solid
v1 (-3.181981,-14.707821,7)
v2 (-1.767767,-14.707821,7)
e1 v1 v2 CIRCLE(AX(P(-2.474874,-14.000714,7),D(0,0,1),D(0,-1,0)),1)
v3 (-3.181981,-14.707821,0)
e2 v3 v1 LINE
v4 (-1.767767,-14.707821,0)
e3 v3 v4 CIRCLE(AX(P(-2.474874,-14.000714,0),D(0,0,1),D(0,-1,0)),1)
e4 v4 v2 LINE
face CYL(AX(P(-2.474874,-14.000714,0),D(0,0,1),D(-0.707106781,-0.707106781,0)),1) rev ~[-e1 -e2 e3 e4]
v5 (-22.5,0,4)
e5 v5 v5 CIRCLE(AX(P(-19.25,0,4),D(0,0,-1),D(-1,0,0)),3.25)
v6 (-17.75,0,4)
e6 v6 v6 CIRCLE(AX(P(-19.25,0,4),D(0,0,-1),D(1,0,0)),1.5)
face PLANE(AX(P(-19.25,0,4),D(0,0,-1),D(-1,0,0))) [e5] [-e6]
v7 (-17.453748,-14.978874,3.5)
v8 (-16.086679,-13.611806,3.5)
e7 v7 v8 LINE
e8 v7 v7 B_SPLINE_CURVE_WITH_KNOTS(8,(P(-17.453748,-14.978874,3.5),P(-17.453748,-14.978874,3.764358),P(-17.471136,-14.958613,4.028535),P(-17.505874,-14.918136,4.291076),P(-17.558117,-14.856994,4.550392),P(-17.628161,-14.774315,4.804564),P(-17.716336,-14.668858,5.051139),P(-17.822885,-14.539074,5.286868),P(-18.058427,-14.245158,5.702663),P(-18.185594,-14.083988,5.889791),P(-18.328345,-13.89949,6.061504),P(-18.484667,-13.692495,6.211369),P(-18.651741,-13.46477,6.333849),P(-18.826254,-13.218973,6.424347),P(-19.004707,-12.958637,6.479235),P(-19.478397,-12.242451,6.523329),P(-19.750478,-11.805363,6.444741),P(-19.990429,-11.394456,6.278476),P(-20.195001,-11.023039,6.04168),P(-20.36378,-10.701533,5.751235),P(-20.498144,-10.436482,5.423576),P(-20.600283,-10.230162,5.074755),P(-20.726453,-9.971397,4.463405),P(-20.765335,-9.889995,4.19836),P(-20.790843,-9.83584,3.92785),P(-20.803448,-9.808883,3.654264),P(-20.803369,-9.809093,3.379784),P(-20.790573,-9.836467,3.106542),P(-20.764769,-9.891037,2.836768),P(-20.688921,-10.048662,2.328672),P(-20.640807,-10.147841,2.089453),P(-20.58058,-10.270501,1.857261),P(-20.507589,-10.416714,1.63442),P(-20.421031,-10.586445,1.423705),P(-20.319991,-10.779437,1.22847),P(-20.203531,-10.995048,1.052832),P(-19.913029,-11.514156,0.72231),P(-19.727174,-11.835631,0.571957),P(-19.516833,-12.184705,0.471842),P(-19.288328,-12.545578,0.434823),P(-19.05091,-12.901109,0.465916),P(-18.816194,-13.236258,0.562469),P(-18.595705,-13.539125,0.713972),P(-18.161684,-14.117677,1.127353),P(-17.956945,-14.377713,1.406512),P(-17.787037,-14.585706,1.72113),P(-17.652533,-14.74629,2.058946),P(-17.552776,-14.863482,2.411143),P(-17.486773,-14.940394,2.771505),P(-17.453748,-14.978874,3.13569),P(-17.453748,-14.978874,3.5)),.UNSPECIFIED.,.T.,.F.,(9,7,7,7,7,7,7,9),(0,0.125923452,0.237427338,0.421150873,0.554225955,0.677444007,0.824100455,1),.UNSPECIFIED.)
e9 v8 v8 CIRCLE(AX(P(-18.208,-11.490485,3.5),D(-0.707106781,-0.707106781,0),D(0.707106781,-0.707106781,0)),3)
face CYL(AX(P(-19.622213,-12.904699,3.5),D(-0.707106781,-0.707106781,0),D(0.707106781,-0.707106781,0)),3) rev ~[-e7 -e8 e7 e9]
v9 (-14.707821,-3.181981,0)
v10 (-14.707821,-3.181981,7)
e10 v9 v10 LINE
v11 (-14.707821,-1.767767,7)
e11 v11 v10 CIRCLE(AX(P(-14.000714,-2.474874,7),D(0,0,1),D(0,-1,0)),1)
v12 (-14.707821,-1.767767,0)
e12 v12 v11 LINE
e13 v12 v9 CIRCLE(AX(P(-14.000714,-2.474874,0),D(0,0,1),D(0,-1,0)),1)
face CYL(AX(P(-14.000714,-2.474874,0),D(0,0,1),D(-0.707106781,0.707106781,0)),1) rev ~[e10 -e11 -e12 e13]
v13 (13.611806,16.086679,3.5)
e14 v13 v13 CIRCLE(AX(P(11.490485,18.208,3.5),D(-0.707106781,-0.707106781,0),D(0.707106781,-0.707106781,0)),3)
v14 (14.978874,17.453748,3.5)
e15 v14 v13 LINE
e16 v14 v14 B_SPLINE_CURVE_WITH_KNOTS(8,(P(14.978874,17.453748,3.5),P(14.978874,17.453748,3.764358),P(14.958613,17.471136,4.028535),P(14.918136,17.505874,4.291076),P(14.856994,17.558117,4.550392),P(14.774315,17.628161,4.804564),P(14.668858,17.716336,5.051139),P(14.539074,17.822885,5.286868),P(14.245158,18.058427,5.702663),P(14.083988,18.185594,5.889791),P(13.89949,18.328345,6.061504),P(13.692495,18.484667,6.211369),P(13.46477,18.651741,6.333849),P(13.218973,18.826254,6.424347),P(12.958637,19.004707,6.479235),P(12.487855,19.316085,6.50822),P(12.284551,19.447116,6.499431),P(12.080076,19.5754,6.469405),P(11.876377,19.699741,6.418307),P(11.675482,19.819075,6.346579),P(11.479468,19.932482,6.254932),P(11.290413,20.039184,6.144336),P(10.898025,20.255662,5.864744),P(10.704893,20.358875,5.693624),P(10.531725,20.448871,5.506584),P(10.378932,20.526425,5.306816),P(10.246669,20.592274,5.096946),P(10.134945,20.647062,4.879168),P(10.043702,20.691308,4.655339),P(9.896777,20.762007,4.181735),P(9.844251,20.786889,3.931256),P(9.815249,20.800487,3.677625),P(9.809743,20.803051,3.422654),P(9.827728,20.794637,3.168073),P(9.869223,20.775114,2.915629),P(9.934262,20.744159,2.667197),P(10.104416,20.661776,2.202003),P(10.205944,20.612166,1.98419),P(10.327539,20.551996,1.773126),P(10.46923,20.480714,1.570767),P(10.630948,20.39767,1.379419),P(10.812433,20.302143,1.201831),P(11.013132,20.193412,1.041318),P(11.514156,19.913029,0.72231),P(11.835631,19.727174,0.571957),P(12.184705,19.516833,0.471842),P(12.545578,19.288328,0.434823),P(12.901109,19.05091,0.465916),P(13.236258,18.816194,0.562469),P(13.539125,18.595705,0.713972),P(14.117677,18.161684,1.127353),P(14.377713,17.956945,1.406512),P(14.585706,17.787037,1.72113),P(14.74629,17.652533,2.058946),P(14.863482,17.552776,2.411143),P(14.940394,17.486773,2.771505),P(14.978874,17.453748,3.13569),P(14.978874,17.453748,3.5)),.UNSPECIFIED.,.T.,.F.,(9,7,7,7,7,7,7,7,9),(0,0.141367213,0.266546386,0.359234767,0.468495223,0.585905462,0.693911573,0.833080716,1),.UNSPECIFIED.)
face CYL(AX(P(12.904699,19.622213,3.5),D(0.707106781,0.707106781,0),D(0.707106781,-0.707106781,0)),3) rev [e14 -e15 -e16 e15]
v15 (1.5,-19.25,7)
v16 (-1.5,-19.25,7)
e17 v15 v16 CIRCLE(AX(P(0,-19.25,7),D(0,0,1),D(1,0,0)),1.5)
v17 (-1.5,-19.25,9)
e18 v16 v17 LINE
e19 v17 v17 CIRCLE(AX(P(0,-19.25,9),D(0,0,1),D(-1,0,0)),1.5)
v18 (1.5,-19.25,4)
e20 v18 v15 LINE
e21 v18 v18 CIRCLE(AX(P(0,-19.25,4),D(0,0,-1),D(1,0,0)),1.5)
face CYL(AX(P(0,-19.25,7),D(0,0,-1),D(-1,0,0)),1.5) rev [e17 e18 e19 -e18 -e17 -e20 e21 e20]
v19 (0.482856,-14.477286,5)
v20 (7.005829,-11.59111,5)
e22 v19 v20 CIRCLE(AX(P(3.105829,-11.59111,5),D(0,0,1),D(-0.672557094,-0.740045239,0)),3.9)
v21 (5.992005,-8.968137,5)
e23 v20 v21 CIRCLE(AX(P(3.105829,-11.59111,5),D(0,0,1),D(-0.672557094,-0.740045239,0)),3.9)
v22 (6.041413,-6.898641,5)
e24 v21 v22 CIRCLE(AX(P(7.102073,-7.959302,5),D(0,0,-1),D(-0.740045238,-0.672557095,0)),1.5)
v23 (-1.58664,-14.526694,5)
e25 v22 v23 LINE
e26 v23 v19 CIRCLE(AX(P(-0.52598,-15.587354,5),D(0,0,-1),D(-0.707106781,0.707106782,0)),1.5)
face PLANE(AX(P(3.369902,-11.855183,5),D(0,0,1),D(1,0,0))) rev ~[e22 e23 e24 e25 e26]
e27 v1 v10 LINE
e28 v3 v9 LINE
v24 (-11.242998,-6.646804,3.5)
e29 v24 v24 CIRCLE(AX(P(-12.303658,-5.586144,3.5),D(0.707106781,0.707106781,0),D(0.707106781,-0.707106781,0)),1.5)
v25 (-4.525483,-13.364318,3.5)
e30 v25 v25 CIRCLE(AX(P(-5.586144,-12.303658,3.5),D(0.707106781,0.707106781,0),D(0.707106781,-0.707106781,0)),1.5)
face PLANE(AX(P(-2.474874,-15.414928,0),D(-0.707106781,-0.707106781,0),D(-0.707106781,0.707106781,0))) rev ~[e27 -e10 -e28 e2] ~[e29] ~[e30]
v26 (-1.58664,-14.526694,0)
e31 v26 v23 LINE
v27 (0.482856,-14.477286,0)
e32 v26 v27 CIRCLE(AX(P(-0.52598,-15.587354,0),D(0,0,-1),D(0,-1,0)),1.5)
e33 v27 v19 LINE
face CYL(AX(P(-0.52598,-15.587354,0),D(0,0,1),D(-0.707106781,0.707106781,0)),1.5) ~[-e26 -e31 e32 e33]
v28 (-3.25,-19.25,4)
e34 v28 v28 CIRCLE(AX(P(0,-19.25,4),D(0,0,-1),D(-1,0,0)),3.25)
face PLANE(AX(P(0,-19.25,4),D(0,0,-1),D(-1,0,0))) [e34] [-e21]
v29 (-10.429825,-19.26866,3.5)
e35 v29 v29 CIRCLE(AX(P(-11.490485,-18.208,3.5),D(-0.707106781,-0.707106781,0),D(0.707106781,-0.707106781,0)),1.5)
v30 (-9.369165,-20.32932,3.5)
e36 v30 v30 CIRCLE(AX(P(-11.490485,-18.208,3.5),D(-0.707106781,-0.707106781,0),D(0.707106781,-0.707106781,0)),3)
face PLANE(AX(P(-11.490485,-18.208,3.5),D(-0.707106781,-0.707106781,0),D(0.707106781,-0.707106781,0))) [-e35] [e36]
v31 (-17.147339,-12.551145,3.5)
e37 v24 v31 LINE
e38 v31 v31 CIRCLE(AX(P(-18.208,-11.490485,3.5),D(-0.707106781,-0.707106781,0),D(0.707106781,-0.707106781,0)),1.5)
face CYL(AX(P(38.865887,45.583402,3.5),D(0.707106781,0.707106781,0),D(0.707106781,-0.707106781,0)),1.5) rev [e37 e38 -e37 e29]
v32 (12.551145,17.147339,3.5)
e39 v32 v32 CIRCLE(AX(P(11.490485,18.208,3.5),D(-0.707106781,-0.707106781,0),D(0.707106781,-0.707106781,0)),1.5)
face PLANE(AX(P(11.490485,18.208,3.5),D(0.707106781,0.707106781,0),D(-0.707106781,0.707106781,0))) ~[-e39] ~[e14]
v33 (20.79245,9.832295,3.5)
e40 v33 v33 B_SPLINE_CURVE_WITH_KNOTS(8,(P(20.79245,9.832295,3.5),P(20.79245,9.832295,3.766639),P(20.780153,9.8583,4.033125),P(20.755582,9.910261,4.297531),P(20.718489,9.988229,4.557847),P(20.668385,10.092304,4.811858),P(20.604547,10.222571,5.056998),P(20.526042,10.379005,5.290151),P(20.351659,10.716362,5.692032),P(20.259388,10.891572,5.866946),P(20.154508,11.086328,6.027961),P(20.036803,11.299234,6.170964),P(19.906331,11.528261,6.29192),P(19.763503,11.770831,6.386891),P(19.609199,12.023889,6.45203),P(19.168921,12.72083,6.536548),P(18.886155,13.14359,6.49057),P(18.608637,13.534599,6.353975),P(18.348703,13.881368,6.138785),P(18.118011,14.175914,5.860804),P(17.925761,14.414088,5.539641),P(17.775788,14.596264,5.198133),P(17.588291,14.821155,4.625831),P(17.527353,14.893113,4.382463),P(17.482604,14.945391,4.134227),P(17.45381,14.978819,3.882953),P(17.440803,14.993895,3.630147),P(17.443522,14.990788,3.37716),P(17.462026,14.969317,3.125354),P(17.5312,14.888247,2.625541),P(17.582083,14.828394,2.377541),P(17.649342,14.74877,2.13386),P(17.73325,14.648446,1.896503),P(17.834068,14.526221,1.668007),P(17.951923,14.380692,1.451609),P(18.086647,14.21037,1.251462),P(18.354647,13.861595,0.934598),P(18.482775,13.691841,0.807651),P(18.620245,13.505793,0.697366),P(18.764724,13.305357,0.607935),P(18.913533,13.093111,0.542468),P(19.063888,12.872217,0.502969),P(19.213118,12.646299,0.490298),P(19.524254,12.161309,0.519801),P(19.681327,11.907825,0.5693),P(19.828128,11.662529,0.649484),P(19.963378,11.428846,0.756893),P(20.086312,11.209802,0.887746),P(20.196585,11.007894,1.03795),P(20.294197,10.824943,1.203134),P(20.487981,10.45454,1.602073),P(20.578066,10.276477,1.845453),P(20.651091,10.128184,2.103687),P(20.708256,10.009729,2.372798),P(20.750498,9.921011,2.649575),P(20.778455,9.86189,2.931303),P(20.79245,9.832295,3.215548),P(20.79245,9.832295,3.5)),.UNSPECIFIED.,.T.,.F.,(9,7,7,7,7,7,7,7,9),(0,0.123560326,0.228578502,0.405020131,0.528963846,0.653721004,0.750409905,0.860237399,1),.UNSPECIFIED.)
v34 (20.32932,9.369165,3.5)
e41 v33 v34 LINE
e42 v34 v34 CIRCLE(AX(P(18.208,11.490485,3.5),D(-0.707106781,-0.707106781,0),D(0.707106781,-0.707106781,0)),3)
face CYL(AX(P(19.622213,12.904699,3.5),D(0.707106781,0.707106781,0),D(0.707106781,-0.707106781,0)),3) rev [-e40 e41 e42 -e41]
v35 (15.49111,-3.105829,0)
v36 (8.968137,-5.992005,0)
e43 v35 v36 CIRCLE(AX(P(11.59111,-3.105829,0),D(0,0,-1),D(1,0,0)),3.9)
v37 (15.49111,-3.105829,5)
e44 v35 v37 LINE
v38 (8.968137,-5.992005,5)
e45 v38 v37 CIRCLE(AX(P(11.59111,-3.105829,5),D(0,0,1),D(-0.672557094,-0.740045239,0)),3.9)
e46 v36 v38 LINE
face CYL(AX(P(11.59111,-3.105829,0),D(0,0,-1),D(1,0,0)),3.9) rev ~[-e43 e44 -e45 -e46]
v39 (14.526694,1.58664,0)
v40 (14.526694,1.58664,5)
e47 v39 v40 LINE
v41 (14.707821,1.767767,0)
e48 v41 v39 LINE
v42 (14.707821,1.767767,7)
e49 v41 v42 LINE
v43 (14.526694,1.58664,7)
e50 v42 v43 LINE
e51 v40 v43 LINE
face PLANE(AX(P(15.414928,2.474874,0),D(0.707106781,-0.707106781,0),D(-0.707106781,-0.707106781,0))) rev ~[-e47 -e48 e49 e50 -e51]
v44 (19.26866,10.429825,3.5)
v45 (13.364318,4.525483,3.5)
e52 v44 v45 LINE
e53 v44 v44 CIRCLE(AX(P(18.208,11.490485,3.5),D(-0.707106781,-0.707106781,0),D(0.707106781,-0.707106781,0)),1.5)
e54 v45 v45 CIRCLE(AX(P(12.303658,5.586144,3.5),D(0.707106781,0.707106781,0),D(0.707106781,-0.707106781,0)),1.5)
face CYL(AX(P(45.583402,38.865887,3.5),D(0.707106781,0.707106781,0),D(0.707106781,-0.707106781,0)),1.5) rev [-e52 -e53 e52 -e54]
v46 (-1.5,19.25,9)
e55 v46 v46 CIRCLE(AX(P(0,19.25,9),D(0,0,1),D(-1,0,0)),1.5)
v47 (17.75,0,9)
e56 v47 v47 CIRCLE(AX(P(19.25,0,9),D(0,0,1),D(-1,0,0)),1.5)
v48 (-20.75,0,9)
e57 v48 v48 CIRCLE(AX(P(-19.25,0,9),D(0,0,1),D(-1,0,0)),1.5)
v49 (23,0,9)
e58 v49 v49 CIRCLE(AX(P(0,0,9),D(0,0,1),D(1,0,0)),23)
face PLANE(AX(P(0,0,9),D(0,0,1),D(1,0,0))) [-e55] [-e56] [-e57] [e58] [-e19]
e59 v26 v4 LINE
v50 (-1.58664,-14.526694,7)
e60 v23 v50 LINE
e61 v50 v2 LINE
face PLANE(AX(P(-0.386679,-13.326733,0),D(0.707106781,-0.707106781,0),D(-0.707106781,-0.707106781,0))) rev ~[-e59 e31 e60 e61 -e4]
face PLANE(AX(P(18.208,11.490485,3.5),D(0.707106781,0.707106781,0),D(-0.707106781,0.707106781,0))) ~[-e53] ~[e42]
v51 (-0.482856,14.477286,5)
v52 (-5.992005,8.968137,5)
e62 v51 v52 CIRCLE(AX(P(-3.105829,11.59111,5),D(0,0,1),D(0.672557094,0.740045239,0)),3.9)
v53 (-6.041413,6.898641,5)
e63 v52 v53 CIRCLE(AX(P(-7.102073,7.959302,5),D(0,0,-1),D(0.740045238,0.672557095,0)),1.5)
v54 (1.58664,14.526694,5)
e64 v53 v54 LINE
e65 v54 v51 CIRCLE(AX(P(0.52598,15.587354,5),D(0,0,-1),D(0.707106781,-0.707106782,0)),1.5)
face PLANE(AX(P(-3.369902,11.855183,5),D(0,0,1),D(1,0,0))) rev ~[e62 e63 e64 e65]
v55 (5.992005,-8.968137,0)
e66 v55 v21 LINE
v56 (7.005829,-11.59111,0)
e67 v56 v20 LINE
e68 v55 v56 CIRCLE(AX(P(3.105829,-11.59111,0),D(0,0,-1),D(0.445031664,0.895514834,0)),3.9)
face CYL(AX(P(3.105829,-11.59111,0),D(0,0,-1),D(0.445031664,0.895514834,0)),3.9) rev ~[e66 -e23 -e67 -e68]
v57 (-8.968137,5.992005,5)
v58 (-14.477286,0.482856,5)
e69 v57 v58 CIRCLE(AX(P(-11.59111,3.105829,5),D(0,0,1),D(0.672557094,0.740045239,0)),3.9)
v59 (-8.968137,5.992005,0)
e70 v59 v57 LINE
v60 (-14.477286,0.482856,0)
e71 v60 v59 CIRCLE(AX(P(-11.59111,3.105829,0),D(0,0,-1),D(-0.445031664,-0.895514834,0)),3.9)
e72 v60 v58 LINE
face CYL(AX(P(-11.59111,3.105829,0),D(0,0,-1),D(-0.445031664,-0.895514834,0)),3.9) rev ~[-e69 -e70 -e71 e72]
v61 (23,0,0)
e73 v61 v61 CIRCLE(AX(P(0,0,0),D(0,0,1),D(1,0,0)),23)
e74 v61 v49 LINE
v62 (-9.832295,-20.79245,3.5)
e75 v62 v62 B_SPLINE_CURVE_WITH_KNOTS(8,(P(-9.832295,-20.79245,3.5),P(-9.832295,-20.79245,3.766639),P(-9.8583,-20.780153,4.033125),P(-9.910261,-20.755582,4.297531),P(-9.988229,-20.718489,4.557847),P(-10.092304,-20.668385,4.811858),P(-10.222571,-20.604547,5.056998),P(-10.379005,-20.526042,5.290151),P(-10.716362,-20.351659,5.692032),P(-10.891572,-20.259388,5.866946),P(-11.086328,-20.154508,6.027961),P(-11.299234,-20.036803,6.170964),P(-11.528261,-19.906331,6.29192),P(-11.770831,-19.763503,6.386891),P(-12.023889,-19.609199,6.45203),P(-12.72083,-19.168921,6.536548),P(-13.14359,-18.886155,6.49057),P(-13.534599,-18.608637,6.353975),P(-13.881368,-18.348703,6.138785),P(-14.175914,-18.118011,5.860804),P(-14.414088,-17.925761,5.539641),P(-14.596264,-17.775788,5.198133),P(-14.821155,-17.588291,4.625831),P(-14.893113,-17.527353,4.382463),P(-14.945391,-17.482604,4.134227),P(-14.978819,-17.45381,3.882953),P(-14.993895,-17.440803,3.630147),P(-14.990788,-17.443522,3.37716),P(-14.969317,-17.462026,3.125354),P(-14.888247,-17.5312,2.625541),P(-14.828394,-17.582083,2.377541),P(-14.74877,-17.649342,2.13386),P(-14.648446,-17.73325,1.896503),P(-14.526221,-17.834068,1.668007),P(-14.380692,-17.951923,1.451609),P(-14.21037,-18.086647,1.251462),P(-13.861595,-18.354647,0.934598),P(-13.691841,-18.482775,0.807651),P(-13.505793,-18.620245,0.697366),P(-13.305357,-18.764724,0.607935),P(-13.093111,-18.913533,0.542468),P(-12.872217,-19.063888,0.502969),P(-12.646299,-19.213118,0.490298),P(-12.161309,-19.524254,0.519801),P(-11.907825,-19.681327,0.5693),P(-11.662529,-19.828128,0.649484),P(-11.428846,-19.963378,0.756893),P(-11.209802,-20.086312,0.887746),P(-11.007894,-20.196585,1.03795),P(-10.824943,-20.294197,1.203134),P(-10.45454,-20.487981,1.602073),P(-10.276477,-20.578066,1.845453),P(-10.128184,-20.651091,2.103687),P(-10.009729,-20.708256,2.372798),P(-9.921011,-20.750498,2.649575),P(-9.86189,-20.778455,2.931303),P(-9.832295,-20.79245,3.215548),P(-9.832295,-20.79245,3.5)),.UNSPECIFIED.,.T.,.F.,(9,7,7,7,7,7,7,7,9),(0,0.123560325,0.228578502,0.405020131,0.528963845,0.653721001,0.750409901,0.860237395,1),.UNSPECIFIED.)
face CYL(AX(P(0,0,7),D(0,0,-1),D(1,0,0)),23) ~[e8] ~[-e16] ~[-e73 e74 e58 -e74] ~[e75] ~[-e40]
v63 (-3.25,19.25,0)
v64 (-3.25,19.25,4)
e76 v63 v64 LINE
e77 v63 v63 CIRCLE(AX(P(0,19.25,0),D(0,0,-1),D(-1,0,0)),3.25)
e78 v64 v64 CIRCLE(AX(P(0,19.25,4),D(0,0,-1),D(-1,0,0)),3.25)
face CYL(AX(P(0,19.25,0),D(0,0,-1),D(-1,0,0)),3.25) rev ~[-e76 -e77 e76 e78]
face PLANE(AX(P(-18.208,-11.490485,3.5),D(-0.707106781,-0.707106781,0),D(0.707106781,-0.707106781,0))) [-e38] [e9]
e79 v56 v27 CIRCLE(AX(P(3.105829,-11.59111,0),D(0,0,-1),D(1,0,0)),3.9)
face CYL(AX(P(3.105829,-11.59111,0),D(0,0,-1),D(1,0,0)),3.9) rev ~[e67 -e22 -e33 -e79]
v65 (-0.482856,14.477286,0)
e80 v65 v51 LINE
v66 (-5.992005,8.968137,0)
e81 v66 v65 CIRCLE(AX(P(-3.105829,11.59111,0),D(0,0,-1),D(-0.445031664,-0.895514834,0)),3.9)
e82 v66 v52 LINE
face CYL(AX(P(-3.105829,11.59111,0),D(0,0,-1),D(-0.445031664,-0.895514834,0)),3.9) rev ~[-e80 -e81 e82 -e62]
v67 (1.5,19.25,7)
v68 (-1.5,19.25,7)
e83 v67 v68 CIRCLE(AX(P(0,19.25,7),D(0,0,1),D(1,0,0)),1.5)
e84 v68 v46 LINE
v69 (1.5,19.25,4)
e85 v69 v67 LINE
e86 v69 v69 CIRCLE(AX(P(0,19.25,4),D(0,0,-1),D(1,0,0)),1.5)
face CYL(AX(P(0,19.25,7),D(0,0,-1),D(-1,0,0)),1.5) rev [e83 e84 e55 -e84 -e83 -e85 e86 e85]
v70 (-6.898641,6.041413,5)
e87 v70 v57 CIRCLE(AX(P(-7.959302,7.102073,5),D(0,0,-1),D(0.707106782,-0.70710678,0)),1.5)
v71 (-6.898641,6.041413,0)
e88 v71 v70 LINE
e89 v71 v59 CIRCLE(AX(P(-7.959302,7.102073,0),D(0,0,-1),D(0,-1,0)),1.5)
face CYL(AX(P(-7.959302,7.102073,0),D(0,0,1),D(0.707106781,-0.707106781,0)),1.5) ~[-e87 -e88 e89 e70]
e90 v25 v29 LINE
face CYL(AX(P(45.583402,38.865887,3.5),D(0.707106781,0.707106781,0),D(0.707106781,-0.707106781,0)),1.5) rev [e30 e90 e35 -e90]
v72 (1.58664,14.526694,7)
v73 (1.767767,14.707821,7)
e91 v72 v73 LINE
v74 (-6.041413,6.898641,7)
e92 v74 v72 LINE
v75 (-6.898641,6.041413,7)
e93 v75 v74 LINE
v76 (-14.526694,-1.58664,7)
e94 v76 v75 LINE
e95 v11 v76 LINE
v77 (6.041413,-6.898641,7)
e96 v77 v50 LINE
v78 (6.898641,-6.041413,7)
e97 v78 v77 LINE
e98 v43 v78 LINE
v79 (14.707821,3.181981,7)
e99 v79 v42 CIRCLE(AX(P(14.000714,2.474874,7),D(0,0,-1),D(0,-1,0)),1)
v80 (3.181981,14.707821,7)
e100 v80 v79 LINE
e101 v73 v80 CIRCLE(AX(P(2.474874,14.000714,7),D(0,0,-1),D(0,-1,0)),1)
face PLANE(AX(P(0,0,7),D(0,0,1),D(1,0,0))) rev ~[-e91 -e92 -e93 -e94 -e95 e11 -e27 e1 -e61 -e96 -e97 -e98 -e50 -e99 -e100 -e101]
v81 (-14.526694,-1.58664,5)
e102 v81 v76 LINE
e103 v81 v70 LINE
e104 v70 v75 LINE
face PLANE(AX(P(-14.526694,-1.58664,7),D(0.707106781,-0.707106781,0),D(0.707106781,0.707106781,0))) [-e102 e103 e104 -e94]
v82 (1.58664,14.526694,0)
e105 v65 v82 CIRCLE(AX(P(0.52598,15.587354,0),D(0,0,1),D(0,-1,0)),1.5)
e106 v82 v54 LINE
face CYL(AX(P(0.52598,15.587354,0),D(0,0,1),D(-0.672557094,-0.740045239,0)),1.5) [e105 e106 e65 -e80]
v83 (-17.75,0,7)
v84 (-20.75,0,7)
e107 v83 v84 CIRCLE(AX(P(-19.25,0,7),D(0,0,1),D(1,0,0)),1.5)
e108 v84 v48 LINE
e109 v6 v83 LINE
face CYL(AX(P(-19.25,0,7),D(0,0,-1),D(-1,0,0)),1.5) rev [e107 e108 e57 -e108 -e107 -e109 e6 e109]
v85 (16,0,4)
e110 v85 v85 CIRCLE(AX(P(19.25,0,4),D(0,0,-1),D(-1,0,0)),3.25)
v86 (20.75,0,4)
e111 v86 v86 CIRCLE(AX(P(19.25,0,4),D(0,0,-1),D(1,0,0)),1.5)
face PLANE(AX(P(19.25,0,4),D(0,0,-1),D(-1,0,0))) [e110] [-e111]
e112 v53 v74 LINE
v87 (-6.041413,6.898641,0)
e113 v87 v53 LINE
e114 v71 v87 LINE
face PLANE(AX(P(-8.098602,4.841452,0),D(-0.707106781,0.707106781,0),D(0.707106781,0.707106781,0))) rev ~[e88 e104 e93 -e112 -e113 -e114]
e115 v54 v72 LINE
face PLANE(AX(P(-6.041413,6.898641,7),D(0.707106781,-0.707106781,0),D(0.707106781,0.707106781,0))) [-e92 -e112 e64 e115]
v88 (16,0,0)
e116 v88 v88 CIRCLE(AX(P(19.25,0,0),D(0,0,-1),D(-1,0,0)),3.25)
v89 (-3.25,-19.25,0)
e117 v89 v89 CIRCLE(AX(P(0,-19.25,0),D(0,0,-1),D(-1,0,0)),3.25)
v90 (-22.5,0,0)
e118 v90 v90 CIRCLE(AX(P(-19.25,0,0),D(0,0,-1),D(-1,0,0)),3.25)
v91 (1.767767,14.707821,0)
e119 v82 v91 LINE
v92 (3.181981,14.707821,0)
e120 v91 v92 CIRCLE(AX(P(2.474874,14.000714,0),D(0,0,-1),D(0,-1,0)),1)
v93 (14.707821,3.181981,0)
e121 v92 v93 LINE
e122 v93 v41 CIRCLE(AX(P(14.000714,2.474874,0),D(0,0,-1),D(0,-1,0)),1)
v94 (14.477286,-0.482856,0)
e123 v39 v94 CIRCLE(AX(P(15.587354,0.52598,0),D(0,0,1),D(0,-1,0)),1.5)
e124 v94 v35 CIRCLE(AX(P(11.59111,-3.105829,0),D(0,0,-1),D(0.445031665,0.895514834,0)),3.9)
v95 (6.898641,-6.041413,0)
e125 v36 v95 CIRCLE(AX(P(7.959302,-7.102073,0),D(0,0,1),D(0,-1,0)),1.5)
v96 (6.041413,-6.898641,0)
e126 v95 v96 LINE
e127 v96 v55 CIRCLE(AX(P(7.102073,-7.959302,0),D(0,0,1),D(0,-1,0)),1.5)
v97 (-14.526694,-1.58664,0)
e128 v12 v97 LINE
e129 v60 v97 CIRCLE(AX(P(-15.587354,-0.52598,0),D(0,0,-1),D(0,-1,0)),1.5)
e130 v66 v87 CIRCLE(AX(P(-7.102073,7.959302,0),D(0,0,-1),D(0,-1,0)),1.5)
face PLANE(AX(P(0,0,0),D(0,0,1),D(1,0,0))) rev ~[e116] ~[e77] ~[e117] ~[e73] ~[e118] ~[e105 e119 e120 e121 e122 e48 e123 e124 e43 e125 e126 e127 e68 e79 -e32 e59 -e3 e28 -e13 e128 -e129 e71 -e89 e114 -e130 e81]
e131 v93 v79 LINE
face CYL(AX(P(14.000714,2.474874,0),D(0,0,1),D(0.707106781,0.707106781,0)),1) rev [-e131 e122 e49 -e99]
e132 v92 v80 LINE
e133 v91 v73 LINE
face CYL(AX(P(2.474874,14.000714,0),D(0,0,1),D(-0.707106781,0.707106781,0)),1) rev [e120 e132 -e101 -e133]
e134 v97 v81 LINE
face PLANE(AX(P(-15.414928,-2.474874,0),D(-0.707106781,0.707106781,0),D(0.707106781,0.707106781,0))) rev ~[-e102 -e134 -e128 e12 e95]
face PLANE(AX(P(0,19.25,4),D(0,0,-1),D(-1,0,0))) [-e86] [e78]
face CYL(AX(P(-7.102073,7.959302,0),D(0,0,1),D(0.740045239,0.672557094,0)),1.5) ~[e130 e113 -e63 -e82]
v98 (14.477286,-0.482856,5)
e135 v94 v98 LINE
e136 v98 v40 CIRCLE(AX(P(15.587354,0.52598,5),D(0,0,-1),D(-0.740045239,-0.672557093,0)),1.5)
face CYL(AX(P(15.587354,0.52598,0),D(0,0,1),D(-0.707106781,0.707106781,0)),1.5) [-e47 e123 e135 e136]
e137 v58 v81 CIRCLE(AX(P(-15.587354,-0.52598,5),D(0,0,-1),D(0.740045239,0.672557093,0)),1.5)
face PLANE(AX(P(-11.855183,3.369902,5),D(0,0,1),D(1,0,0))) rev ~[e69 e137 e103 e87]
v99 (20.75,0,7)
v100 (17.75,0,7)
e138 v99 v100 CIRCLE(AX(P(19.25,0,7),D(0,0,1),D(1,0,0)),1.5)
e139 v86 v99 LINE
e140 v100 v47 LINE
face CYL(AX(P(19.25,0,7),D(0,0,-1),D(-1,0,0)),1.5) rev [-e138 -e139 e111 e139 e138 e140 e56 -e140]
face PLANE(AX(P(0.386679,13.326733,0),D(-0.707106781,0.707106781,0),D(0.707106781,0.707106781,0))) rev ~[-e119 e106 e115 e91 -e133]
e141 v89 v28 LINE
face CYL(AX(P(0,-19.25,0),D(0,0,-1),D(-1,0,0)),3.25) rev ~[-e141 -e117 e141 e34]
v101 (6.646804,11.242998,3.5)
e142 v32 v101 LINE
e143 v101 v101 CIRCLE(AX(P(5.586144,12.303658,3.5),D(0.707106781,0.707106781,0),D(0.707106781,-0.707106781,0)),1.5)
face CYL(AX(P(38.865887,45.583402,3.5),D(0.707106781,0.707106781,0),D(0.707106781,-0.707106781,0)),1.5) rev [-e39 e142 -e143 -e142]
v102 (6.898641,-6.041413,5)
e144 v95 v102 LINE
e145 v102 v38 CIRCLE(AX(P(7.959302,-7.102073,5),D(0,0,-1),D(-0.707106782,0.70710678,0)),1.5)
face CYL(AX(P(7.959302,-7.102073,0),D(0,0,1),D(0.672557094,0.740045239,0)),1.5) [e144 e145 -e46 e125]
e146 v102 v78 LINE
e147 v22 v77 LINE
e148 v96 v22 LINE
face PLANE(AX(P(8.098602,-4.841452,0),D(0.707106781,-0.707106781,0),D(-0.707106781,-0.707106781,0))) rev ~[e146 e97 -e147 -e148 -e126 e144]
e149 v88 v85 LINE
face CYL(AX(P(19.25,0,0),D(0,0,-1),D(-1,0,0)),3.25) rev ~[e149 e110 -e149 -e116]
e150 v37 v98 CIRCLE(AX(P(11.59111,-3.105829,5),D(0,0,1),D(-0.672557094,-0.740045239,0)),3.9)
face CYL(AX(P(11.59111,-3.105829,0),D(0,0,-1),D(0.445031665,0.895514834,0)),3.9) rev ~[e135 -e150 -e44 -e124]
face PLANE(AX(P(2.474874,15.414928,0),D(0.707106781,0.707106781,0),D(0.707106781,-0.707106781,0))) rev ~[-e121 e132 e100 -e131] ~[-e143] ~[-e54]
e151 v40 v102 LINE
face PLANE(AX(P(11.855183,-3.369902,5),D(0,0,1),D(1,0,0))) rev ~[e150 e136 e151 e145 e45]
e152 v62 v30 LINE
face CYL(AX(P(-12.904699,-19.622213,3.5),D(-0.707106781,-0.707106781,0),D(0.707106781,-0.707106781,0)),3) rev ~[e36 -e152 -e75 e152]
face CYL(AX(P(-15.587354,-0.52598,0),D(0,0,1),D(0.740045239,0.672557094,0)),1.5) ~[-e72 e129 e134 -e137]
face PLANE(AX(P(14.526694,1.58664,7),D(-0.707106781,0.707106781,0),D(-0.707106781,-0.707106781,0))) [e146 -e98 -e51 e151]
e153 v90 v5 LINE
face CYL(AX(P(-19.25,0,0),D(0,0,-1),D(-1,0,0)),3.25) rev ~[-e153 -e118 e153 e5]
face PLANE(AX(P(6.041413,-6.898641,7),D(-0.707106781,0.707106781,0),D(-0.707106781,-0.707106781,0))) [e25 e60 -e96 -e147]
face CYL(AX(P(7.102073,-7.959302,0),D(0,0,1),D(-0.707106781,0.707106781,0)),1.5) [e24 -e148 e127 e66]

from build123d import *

# Parameters (mm, degrees)
SKETCH_1_R               = 23
SKETCH_1_R_2             = 1.5
EXTRUDE_1_DEPTH          = 7
FILLET_1_R               = 1.5
FILLET_2_R               = 1.5
EXTRUDE_2_DEPTH          = 2
FILLET_3_R               = 1
SKETCH_4_R               = 3.25
SKETCH_4_R_2             = 1.5
CUT_EXTRUDE_1_DEPTH      = 4
SKETCH_5_R               = 23
SKETCH_5_R_2             = 1.5
EXTRUDE_3_DEPTH          = 2
CUT_EXTRUDE_2_DEPTH      = 47.064665113
CUT_EXTRUDE_2_DEPTH_BACK = 47.064665113
SKETCH_6_R               = 1.5
SKETCH_7_R               = 3
SKETCH_7_R_2             = 1.5
CUT_EXTRUDE_3_DEPTH      = 2


with BuildPart() as part:
    # 草图1 → 凸台-拉伸1 (new body)
    with BuildSketch(Plane.XY):
        Circle(SKETCH_1_R)
        with Locations((-19.25, 0)):
            Circle(SKETCH_1_R_2, mode=Mode.SUBTRACT)
        with Locations((0, -19.25)):
            Circle(SKETCH_1_R_2, mode=Mode.SUBTRACT)
        with BuildLine():
            Line((0.386679311, 13.326733407), (2.474873734, 15.41492783))
            Line((2.474873734, 15.41492783), (15.41492783, 2.474873734))
            Line((15.41492783, 2.474873734), (13.326733407, 0.386679311))
            ThreePointArc((13.326733407, 0.386679311), (14.906146236, -1.051434667), (15.491109915, -3.105828541))
            ThreePointArc((15.491109915, -3.105828541), (12.482518738, -6.902589044), (8.098602063, -4.841452032))
            Line((8.098602063, -4.841452032), (4.841452032, -8.098602063))
            ThreePointArc((4.841452032, -8.098602063), (6.420864862, -9.536716041), (7.005828541, -11.591109915))
            ThreePointArc((7.005828541, -11.591109915), (3.997237363, -15.387870418), (-0.386679311, -13.326733407))
            Line((-0.386679311, -13.326733407), (-2.474873734, -15.41492783))
            Line((-2.474873734, -15.41492783), (-15.41492783, -2.474873734))
            Line((-15.41492783, -2.474873734), (-13.326733407, -0.386679311))
            ThreePointArc((-13.326733407, -0.386679311), (-14.348826362, 5.863544988), (-8.098602063, 4.841452032))
            Line((-8.098602063, 4.841452032), (-4.841452032, 8.098602063))
            ThreePointArc((-4.841452032, 8.098602063), (-5.863544988, 14.348826362), (0.386679311, 13.326733407))
        make_face(mode=Mode.SUBTRACT)
        with Locations((19.25, 0)):
            Circle(SKETCH_1_R_2, mode=Mode.SUBTRACT)
        with Locations((0, 19.25)):
            Circle(SKETCH_1_R_2, mode=Mode.SUBTRACT)
    extrude(amount=EXTRUDE_1_DEPTH)

    # 圆角1
    fillet_1_edges = [part.edges().sort_by_distance(p)[0] for p in [
        (0.386679311, 13.326733407, 3.5),
    ]]
    fillet(fillet_1_edges, radius=FILLET_1_R)

    # 圆角2
    fillet_2_edges = [part.edges().sort_by_distance(p)[0] for p in [
        (-4.841452032, 8.098602063, 3.5),
        (-8.098602063, 4.841452032, 3.5),
        (-13.326733407, -0.386679311, 3.5),
        (-0.386679311, -13.326733407, 3.5),
        (4.841452032, -8.098602063, 3.5),
        (8.098602063, -4.841452032, 3.5),
        (13.326733407, 0.386679311, 3.5),
    ]]
    fillet(fillet_2_edges, radius=FILLET_2_R)

    # 草图3 → 凸台-拉伸2 (add)
    with BuildSketch(Plane.XY.offset(7)):
        with BuildLine():
            Line((-14.526694033, -1.586639938), (-6.898641437, 6.041412659))
            ThreePointArc((-6.898641437, 6.041412659), (-7.923500416, 5.602500133), (-8.968137249, 5.992004973))
            ThreePointArc((-8.968137249, 5.992004973), (-14.348826362, 5.863544988), (-14.477286347, 0.482855875))
            ThreePointArc((-14.477286347, 0.482855875), (-14.087781508, -0.561780958), (-14.526694033, -1.586639938))
        make_face()
        with BuildLine():
            Line((-6.041412659, 6.898641437), (1.586639938, 14.526694033))
            ThreePointArc((1.586639938, 14.526694033), (0.561780958, 14.087781508), (-0.482855875, 14.477286347))
            ThreePointArc((-0.482855875, 14.477286347), (-5.863544988, 14.348826362), (-5.992004973, 8.968137249))
            ThreePointArc((-5.992004973, 8.968137249), (-5.602500133, 7.923500416), (-6.041412659, 6.898641437))
        make_face()
        with BuildLine():
            ThreePointArc((14.477286347, -0.482855875), (14.087781508, 0.561780958), (14.526694033, 1.586639938))
            Line((14.526694033, 1.586639938), (6.898641437, -6.041412659))
            ThreePointArc((6.898641437, -6.041412659), (7.923500416, -5.602500133), (8.968137249, -5.992004973))
            ThreePointArc((8.968137249, -5.992004973), (14.348826362, -5.863544988), (14.477286347, -0.482855875))
        make_face()
        with BuildLine():
            ThreePointArc((5.992004973, -8.968137249), (5.602500133, -7.923500416), (6.041412659, -6.898641437))
            Line((6.041412659, -6.898641437), (-1.586639938, -14.526694033))
            ThreePointArc((-1.586639938, -14.526694033), (-0.561780958, -14.087781508), (0.482855875, -14.477286347))
            ThreePointArc((0.482855875, -14.477286347), (5.863544988, -14.348826362), (5.992004973, -8.968137249))
        make_face()
    extrude(amount=-EXTRUDE_2_DEPTH)

    # 圆角3
    fillet_3_edges = [part.edges().sort_by_distance(p)[0] for p in [
        (-15.41492783, -2.474873734, 3.5),
        (-2.474873734, -15.41492783, 3.5),
        (15.41492783, 2.474873734, 3.5),
        (2.474873734, 15.41492783, 3.5),
    ]]
    fillet(fillet_3_edges, radius=FILLET_3_R)

    # 草图4 → 切除-拉伸1 (cut)
    # profile 1 of 4: a face of its own
    with BuildSketch(Plane(origin=(0, 0, 0), x_dir=(-1, 0, 0), z_dir=(0, 0, -1))):
        with Locations((-19.25, 0)):
            Circle(SKETCH_4_R)
        with Locations((-19.25, 0)):
            Circle(SKETCH_4_R_2, mode=Mode.SUBTRACT)
    # profile 2 of 4: a face of its own
    with BuildSketch(Plane(origin=(0, 0, 0), x_dir=(-1, 0, 0), z_dir=(0, 0, -1))):
        with Locations((0, 19.25)):
            Circle(SKETCH_4_R)
        with Locations((0, 19.25)):
            Circle(SKETCH_4_R_2, mode=Mode.SUBTRACT)
    # profile 3 of 4: a face of its own
    with BuildSketch(Plane(origin=(0, 0, 0), x_dir=(-1, 0, 0), z_dir=(0, 0, -1))):
        with Locations((19.25, 0)):
            Circle(SKETCH_4_R)
        with Locations((19.25, 0)):
            Circle(SKETCH_4_R_2, mode=Mode.SUBTRACT)
    # profile 4 of 4: a face of its own
    with BuildSketch(Plane(origin=(0, 0, 0), x_dir=(-1, 0, 0), z_dir=(0, 0, -1))):
        with Locations((0, -19.25)):
            Circle(SKETCH_4_R)
        with Locations((0, -19.25)):
            Circle(SKETCH_4_R_2, mode=Mode.SUBTRACT)
    extrude(amount=-CUT_EXTRUDE_1_DEPTH, mode=Mode.SUBTRACT)

    # 草图5 → 凸台-拉伸3 (add)
    with BuildSketch(Plane.XY.offset(7)):
        Circle(SKETCH_5_R)
        with Locations(Location((-19.25, 0, 0), (0, 0, 180))):
            Circle(SKETCH_5_R_2, mode=Mode.SUBTRACT)
        with Locations(Location((0, -19.25, 0), (0, 0, 180))):
            Circle(SKETCH_5_R_2, mode=Mode.SUBTRACT)
        with Locations(Location((19.25, 0, 0), (0, 0, 180))):
            Circle(SKETCH_5_R_2, mode=Mode.SUBTRACT)
        with Locations(Location((0, 19.25, 0), (0, 0, 180))):
            Circle(SKETCH_5_R_2, mode=Mode.SUBTRACT)
    extrude(amount=EXTRUDE_3_DEPTH)

    # 草图6 → 切除-拉伸2 (cut, two sides: drawn at the far end of the back side and taken through both)
    with BuildSketch(Plane(origin=(8.944900782, 8.944900782, 0), x_dir=(0, 0, 1), z_dir=(-0.7071067811865475, -0.7071067811865477, 0)).offset(-CUT_EXTRUDE_2_DEPTH_BACK)):
        with Locations(Location((3.5, 4.75, 0), (0, 0, 270))):
            Circle(SKETCH_6_R)
        with Locations(Location((3.5, -4.75, 0), (0, 0, 270))):
            Circle(SKETCH_6_R)
    extrude(amount=CUT_EXTRUDE_2_DEPTH + CUT_EXTRUDE_2_DEPTH_BACK, mode=Mode.SUBTRACT)

    # 草图7 → 切除-拉伸3 (cut)
    # profile 1 of 2: a face of its own
    with BuildSketch(Plane(origin=(-16.263455967, -16.263455967, 0), x_dir=(-0.7071067811865477, 0.7071067811865475, 0), z_dir=(-0.7071067811865475, -0.7071067811865477, 0))):
        with Locations(Location((-4.75, -3.5, 0), (0, 0, 180))):
            Circle(SKETCH_7_R)
        with Locations(Location((-4.75, -3.5, 0), (0, 0, 180))):
            Circle(SKETCH_7_R_2, mode=Mode.SUBTRACT)
    # profile 2 of 2: a face of its own
    with BuildSketch(Plane(origin=(-16.263455967, -16.263455967, 0), x_dir=(-0.7071067811865477, 0.7071067811865475, 0), z_dir=(-0.7071067811865475, -0.7071067811865477, 0))):
        with Locations(Location((4.75, -3.5, 0), (0, 0, 180))):
            Circle(SKETCH_7_R)
        with Locations(Location((4.75, -3.5, 0), (0, 0, 180))):
            Circle(SKETCH_7_R_2, mode=Mode.SUBTRACT)
    cut_extrude_3 = extrude(amount=-CUT_EXTRUDE_3_DEPTH, mode=Mode.SUBTRACT)

    # 镜向1: 切除-拉伸3 across plane
    add(cut_extrude_3.mirror(Plane(origin=(0, 0, 0), x_dir=(0, 0, 1), z_dir=(0.7071067811865476, 0.7071067811865476, 0))), mode=Mode.SUBTRACT)


solid = part.part
